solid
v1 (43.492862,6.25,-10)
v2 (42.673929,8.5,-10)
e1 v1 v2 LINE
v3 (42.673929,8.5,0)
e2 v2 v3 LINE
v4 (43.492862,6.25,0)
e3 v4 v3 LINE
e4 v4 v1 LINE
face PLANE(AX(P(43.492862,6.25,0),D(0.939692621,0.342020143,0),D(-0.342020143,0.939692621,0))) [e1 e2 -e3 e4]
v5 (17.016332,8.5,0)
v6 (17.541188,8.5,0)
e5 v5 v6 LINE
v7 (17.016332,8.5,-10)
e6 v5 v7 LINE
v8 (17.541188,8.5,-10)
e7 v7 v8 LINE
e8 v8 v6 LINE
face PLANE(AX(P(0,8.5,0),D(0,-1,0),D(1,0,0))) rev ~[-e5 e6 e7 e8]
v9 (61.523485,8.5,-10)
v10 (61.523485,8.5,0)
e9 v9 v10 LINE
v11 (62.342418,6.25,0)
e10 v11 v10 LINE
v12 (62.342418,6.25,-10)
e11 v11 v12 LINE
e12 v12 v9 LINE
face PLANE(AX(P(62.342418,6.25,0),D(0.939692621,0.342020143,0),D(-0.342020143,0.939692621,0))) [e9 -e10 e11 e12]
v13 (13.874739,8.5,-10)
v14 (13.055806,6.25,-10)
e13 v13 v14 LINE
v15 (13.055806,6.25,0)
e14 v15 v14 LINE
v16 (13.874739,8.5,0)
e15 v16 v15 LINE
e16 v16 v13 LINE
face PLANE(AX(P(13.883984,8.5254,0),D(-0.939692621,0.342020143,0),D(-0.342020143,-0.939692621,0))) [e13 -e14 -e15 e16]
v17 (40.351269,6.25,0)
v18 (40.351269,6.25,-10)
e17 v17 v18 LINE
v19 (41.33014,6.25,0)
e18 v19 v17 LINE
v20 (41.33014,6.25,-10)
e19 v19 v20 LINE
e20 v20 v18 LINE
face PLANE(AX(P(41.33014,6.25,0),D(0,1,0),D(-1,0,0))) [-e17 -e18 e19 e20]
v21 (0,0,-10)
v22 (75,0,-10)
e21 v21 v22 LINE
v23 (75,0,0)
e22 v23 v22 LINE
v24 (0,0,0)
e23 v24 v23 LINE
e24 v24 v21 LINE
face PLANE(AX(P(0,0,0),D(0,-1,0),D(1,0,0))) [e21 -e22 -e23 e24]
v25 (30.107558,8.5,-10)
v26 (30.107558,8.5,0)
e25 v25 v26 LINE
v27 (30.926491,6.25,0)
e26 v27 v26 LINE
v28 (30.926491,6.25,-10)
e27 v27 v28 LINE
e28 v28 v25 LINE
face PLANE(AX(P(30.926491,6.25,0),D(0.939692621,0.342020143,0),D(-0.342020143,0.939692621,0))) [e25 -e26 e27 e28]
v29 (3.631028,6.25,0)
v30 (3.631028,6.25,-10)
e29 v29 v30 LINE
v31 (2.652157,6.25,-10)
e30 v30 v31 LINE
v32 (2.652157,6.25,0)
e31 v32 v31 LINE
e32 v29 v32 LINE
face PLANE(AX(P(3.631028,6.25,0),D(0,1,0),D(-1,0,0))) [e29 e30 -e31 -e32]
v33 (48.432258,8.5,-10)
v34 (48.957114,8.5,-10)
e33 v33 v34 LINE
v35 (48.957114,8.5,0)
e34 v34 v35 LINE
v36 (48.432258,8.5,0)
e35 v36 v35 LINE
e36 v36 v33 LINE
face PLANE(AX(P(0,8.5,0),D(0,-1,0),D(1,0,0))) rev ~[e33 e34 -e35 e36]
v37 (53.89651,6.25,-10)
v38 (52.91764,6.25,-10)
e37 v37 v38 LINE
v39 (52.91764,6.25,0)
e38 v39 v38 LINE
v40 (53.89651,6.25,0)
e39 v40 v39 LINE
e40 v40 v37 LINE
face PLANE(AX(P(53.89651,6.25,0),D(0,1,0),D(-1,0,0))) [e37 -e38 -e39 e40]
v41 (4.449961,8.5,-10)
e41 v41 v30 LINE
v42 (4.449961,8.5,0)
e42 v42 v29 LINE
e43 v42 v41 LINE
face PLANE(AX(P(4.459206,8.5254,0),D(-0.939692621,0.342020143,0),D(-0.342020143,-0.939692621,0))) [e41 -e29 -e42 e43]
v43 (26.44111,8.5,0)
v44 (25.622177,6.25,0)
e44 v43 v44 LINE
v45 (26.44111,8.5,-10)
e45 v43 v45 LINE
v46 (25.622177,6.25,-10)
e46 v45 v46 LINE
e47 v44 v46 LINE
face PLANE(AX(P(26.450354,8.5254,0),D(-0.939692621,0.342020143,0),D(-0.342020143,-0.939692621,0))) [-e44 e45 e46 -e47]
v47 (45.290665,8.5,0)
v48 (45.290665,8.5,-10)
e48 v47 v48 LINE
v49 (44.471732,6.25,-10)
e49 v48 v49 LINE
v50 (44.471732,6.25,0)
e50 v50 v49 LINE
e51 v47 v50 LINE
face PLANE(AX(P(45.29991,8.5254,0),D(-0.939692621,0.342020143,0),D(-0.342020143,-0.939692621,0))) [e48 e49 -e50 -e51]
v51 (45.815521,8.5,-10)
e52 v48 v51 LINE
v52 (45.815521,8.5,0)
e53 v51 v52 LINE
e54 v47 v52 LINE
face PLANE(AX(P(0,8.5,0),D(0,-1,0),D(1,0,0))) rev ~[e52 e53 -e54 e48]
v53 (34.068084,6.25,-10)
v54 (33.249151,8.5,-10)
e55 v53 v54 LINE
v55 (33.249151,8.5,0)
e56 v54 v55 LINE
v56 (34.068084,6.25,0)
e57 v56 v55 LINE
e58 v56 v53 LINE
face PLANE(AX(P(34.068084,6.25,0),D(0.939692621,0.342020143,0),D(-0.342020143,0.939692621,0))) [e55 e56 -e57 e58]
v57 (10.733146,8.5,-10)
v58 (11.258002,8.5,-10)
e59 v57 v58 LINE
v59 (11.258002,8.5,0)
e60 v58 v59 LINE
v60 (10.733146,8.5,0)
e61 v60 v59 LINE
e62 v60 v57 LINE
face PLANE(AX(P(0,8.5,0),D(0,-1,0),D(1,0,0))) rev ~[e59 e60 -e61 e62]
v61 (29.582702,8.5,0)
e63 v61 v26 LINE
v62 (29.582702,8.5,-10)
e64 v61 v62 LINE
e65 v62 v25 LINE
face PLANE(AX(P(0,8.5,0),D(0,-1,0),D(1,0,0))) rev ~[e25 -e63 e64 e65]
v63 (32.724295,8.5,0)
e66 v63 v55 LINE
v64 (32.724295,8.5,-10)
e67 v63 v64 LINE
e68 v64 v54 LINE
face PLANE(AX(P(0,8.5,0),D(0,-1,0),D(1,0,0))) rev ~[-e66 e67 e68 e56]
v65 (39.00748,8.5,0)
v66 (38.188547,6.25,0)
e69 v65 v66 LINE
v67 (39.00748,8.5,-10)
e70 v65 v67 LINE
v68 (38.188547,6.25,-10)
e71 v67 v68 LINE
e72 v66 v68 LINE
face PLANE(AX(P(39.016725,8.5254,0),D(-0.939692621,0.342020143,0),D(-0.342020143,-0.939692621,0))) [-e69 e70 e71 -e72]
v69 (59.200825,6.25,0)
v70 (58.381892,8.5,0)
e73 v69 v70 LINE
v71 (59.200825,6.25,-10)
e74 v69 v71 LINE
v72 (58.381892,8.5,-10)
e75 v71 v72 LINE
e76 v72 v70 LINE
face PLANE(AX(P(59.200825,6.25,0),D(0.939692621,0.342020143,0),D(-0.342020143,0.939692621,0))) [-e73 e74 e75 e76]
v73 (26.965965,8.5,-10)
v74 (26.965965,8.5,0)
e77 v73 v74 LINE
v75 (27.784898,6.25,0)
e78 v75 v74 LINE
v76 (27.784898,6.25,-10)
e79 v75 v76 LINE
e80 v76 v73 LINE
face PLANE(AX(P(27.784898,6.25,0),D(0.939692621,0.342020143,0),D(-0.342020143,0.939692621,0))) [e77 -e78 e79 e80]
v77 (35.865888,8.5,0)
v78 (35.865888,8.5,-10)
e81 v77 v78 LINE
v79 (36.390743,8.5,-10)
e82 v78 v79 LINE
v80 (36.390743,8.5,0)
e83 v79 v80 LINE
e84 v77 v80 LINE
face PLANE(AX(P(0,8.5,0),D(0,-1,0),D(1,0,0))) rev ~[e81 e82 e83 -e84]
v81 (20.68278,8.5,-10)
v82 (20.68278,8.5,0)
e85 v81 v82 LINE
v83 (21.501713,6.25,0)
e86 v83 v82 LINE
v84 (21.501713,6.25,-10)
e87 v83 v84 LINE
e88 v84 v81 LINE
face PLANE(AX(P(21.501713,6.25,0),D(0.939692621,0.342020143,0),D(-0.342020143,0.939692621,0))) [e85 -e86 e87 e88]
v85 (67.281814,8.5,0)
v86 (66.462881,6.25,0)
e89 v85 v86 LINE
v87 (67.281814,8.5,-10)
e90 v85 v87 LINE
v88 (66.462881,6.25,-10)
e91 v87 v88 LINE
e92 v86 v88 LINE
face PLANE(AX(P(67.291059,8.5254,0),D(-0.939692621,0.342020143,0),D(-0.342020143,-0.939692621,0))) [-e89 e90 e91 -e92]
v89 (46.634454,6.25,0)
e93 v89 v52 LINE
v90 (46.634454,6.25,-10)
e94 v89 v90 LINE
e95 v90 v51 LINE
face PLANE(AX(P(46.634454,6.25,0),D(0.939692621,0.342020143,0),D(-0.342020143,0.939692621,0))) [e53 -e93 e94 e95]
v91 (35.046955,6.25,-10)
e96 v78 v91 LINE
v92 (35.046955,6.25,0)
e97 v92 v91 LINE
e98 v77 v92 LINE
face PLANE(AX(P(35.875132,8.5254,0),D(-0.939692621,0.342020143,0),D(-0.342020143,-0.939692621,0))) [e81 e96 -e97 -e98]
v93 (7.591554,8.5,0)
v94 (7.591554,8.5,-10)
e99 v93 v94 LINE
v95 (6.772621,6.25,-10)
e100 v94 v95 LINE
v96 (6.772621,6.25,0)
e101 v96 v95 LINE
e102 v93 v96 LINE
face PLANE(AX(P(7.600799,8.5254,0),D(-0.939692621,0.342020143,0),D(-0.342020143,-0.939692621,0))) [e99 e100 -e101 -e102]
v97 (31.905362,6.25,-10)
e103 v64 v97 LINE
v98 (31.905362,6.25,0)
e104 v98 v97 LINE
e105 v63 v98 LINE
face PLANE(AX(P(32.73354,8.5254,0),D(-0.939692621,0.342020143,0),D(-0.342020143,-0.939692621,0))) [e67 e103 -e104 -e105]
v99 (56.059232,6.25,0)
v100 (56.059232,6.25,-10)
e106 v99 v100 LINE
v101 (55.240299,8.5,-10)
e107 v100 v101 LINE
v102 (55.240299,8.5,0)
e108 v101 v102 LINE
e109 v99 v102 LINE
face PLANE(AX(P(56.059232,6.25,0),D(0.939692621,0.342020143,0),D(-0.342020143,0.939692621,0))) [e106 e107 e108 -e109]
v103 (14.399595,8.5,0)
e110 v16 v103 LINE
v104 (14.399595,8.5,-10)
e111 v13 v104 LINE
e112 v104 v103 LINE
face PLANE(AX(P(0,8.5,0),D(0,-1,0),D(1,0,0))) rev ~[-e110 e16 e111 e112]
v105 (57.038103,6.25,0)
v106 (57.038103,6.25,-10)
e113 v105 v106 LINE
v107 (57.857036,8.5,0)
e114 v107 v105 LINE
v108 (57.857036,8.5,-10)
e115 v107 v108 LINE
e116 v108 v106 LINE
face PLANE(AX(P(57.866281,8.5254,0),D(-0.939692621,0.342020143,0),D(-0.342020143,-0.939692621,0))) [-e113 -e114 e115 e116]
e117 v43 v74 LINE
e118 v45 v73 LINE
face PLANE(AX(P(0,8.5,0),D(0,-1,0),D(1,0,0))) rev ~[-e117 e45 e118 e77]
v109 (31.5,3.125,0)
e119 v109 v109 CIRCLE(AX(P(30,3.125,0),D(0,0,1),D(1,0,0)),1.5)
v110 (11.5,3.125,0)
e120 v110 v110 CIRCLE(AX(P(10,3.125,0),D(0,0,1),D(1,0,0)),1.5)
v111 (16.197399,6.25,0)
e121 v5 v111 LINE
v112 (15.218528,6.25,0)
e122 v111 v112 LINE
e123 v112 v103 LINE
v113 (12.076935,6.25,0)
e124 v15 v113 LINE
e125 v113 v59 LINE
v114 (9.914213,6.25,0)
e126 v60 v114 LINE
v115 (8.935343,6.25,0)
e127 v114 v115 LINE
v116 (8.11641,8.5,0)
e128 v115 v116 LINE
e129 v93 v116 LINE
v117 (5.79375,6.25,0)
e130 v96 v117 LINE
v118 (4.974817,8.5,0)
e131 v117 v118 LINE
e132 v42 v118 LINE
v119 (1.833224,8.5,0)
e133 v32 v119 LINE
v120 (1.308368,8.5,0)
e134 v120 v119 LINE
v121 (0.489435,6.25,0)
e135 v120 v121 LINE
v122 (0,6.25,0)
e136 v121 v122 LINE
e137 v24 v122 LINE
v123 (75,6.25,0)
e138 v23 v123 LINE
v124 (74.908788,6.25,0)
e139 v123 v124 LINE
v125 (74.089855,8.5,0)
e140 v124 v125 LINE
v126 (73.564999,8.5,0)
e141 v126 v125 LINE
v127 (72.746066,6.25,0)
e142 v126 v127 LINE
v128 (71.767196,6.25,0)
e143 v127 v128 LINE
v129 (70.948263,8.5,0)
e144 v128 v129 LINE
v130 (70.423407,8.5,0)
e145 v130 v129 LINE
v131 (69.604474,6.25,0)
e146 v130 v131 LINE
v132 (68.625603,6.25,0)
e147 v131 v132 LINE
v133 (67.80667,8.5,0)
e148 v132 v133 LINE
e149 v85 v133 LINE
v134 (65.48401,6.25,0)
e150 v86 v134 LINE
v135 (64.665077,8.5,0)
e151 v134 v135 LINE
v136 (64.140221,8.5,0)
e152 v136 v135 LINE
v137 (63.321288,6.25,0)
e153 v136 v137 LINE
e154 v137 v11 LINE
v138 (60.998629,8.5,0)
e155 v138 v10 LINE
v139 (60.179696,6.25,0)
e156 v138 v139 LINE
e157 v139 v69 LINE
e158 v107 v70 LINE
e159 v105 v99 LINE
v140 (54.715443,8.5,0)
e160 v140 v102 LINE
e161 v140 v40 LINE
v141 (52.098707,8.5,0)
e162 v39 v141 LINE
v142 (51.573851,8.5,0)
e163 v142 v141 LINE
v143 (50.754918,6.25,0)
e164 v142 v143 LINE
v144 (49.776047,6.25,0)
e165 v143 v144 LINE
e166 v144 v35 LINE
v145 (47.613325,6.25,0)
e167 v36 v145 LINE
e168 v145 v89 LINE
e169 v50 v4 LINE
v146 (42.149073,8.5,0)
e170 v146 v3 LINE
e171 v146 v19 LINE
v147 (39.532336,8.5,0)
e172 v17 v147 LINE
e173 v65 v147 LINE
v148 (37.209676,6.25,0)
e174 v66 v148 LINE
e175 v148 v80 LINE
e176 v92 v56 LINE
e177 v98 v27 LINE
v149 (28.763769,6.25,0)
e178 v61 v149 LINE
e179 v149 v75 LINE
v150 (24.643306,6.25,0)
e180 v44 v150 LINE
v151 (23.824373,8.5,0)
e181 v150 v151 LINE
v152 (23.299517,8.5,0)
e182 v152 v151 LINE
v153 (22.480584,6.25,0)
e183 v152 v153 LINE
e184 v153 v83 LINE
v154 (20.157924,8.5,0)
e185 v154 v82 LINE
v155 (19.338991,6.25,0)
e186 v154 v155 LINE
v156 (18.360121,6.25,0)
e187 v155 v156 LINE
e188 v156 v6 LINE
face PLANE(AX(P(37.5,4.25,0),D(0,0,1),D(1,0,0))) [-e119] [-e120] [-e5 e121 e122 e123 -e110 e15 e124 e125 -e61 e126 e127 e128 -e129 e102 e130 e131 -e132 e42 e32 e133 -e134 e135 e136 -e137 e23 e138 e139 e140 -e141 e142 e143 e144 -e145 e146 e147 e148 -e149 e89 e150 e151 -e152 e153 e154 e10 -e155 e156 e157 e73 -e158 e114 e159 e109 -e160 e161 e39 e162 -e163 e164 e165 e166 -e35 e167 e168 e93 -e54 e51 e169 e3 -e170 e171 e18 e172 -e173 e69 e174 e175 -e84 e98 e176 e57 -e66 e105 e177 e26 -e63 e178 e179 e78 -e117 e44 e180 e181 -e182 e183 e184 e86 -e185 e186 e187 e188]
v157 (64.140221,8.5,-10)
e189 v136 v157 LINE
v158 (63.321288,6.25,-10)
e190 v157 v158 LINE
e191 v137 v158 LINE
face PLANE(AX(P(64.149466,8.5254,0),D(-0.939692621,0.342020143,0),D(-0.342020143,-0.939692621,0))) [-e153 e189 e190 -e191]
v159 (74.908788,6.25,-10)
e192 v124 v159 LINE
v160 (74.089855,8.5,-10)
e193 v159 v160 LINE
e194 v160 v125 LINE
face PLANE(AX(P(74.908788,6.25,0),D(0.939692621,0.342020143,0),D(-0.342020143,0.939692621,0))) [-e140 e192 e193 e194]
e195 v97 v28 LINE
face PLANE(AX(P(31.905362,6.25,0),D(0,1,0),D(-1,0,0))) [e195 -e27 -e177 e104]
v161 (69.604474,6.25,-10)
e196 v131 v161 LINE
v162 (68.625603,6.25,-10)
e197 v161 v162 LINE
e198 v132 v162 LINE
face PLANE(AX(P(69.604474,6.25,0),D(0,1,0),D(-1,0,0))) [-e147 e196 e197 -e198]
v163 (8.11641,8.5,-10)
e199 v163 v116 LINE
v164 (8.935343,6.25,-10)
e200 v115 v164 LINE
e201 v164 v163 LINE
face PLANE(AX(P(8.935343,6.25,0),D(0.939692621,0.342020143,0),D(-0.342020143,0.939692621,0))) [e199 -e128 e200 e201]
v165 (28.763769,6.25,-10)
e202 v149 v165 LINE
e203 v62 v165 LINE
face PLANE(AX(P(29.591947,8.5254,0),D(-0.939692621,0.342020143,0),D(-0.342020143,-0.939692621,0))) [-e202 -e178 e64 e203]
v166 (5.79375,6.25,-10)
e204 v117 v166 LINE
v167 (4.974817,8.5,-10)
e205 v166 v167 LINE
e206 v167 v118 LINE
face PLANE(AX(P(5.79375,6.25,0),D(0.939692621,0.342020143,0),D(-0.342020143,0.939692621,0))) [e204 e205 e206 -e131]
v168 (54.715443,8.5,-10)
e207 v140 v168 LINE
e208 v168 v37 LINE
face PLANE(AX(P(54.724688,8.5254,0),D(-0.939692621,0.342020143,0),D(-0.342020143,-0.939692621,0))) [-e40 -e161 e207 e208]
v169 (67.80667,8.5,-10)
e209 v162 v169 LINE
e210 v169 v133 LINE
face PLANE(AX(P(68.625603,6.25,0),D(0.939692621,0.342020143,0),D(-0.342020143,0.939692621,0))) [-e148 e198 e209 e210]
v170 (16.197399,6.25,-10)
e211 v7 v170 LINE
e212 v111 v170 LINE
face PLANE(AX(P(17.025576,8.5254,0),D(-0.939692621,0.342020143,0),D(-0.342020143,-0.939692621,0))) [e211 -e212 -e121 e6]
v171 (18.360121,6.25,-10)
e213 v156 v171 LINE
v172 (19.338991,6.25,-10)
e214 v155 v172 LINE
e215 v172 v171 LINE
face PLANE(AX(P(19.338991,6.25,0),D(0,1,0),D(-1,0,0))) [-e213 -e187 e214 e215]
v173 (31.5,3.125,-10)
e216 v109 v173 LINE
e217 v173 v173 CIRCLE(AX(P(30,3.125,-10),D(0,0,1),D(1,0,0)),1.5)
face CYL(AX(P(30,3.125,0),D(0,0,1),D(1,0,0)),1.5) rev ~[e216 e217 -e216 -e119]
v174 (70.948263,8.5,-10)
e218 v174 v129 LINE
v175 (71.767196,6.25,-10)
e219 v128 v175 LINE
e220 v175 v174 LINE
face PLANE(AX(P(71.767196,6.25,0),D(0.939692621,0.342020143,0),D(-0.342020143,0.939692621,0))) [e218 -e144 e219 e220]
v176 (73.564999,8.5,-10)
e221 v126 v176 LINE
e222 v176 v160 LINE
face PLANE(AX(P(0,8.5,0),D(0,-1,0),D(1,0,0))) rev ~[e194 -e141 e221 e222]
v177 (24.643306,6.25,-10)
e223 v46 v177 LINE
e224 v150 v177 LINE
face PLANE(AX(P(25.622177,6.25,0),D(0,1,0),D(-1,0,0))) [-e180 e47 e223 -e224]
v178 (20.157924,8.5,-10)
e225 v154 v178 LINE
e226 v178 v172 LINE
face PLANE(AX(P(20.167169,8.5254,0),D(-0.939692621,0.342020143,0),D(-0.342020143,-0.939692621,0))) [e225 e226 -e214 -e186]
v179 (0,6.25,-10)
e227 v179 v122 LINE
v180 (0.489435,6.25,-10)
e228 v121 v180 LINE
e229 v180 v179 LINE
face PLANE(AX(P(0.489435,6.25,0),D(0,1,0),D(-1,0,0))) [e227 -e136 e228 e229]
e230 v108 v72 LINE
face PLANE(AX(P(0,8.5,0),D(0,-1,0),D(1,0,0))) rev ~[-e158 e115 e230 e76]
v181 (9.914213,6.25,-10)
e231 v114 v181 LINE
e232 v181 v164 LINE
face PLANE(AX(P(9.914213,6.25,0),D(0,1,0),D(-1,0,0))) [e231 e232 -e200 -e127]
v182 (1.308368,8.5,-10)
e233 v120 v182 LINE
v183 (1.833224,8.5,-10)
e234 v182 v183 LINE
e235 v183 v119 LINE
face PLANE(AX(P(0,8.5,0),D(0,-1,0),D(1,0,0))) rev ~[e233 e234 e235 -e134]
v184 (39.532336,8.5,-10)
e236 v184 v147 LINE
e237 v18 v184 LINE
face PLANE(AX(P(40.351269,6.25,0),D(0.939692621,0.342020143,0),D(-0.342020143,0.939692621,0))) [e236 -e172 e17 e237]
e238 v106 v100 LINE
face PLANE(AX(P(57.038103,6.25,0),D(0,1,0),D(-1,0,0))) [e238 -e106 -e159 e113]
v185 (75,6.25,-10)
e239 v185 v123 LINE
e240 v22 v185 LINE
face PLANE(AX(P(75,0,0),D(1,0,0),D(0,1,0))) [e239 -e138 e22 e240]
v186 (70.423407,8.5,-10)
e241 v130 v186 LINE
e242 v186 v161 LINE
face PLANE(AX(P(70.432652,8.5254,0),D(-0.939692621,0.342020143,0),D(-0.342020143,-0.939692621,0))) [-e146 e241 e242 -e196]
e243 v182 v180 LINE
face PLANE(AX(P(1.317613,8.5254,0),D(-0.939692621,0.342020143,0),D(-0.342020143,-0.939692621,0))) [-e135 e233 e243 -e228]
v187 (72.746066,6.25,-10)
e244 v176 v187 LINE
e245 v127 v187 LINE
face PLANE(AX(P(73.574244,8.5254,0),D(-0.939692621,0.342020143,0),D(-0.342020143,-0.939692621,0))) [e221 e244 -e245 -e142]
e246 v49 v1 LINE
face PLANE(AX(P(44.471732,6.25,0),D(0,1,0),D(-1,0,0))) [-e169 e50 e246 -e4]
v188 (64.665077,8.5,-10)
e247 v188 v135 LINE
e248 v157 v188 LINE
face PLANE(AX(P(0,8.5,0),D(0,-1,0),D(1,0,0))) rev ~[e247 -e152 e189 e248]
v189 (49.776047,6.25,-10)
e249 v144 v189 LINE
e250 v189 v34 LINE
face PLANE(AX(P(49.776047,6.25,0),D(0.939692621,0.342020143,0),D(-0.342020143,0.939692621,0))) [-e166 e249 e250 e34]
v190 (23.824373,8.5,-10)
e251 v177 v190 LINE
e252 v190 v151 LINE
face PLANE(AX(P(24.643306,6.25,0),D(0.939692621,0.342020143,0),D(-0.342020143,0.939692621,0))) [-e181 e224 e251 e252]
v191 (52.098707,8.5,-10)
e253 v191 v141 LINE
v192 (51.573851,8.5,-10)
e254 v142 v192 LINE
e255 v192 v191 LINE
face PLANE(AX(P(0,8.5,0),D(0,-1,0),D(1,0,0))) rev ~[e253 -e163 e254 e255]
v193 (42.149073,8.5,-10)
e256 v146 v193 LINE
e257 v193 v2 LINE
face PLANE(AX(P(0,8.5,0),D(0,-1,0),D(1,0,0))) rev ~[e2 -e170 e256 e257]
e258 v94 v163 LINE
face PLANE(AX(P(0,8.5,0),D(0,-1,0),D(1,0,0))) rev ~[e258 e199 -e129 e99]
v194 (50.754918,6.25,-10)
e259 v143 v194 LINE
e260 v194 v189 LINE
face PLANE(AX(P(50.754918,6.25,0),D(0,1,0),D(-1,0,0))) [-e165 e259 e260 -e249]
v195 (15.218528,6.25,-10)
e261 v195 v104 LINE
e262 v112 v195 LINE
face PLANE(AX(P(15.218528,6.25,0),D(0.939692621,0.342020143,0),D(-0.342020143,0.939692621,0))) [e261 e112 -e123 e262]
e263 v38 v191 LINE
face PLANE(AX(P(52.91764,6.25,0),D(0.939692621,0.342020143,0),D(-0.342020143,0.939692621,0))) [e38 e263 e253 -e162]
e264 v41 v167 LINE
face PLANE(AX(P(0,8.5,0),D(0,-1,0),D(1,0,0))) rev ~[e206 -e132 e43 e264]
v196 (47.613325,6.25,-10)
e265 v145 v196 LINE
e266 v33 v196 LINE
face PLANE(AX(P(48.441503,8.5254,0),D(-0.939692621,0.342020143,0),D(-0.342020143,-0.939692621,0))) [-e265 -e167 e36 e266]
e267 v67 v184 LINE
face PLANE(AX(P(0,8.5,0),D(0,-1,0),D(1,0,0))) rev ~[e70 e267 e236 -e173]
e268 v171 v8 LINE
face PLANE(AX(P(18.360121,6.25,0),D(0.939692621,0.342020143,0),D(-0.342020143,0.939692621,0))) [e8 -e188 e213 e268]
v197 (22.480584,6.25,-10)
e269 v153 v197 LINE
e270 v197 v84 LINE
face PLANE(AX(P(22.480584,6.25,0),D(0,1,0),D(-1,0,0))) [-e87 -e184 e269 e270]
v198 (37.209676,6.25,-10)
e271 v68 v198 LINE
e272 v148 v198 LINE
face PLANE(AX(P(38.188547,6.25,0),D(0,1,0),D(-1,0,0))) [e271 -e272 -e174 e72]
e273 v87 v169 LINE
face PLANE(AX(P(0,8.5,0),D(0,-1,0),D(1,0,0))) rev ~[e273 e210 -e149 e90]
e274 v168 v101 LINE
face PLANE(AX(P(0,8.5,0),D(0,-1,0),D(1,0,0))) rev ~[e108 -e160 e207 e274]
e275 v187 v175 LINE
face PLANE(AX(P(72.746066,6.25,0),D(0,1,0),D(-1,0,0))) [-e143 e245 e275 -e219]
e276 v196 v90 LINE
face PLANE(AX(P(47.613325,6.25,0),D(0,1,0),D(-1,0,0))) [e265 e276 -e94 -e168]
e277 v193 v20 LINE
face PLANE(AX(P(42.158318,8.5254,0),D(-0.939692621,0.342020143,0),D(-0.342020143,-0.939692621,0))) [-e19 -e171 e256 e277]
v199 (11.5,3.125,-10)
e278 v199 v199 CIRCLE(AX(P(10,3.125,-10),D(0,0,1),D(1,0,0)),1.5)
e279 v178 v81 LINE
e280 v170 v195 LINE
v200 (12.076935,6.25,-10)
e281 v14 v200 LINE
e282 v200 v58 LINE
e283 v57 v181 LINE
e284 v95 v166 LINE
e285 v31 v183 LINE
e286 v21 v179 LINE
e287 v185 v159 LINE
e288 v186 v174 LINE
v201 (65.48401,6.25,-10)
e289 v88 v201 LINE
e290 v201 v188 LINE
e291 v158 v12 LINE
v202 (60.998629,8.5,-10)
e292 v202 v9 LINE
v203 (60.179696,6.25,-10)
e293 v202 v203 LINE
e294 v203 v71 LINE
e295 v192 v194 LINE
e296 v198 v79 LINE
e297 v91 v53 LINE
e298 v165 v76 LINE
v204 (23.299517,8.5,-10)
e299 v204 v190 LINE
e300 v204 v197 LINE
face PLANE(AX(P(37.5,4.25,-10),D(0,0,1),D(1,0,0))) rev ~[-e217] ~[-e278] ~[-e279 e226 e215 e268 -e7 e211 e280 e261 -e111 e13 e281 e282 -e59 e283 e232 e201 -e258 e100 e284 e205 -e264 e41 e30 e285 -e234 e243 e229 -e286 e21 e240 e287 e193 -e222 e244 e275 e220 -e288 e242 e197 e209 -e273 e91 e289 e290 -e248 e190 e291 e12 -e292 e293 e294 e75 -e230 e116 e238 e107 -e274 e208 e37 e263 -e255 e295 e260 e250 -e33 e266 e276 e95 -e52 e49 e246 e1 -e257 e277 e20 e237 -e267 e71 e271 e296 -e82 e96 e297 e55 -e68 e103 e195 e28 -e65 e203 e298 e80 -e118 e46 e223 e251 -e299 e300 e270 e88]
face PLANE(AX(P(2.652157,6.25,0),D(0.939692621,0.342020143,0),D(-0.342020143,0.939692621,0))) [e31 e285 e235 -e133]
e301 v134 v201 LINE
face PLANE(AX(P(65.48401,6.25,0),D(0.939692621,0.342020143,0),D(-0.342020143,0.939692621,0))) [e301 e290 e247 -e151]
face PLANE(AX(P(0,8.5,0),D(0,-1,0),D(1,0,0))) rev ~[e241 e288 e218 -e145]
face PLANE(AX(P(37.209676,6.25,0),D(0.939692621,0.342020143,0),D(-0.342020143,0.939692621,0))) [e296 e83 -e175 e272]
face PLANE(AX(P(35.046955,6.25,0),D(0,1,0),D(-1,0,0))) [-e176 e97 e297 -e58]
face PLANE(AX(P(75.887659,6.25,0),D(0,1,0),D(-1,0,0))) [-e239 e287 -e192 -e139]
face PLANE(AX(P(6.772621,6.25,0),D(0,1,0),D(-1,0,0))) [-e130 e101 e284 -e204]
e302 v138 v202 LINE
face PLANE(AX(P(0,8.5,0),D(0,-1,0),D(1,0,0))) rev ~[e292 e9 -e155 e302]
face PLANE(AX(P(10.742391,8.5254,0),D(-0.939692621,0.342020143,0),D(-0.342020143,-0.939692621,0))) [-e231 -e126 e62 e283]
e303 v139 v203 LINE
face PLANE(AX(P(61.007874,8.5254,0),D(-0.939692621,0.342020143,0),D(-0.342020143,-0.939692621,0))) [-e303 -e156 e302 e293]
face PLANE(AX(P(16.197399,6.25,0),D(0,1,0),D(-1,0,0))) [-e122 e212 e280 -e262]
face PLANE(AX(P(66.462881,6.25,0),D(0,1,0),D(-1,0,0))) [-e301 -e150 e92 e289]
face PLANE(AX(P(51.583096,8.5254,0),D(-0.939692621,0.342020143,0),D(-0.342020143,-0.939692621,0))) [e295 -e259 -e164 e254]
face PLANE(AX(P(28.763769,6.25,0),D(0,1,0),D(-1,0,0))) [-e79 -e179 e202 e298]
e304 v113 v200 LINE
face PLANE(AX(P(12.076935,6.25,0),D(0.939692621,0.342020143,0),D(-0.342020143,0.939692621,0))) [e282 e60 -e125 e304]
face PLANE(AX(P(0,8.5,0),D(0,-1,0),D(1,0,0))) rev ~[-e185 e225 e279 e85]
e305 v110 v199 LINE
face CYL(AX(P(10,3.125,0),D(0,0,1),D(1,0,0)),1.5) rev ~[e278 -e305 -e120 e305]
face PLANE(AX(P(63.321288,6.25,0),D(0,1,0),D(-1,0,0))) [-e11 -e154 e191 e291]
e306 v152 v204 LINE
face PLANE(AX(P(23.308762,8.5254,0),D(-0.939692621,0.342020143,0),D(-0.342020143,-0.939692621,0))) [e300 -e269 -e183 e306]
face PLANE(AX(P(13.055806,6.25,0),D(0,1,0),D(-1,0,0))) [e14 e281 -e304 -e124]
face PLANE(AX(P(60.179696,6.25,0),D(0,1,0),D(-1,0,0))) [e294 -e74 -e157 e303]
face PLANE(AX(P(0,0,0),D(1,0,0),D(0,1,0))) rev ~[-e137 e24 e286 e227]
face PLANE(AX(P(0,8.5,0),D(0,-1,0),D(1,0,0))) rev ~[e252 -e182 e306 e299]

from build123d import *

# Parameters (mm, degrees)
BLANKSKE_W         = 75
BLANKSKE_H         = 8.5
BLANK_DEPTH        = 10
TOOTHCUTSIM_DEPTH  = 77.139674284
TEETHCUTS_COUNT    = 25
TEETHCUTS_PITCH    = 3.14159265
SKETCH1_R          = 1.5
CUT_EXTRUDE1_DEPTH = 10


with BuildPart() as part:
    # BlankSke → Blank (new body)
    with BuildSketch(Plane.XY):
        with Locations((37.5, 4.25)):
            Rectangle(BLANKSKE_W, BLANKSKE_H)
    extrude(amount=-BLANK_DEPTH)

    # TooCutSkeSim → ToothCutSim (cut, through all)
    with BuildSketch(Plane.XY):
        Polygon((0.48943537, 6.25), (-0.48943537, 6.25), (-1.317613241, 8.5254), (1.317613241, 8.5254), align=None)
    toothcutsim = extrude(amount=-TOOTHCUTSIM_DEPTH, mode=Mode.SUBTRACT)

    # TeethCuts: ToothCutSim ×25
    with Locations(*[(i * TEETHCUTS_PITCH, 0, 0) for i in range(1, TEETHCUTS_COUNT)]):
        add(toothcutsim, mode=Mode.SUBTRACT)

    # Sketch1 → Cut-Extrude1 (cut)
    with BuildSketch(Plane.XY):
        with Locations((10, 3.125)):
            Circle(SKETCH1_R)
        with Locations((30, 3.125)):
            Circle(SKETCH1_R)
    extrude(amount=-CUT_EXTRUDE1_DEPTH, mode=Mode.SUBTRACT)


solid = part.part
